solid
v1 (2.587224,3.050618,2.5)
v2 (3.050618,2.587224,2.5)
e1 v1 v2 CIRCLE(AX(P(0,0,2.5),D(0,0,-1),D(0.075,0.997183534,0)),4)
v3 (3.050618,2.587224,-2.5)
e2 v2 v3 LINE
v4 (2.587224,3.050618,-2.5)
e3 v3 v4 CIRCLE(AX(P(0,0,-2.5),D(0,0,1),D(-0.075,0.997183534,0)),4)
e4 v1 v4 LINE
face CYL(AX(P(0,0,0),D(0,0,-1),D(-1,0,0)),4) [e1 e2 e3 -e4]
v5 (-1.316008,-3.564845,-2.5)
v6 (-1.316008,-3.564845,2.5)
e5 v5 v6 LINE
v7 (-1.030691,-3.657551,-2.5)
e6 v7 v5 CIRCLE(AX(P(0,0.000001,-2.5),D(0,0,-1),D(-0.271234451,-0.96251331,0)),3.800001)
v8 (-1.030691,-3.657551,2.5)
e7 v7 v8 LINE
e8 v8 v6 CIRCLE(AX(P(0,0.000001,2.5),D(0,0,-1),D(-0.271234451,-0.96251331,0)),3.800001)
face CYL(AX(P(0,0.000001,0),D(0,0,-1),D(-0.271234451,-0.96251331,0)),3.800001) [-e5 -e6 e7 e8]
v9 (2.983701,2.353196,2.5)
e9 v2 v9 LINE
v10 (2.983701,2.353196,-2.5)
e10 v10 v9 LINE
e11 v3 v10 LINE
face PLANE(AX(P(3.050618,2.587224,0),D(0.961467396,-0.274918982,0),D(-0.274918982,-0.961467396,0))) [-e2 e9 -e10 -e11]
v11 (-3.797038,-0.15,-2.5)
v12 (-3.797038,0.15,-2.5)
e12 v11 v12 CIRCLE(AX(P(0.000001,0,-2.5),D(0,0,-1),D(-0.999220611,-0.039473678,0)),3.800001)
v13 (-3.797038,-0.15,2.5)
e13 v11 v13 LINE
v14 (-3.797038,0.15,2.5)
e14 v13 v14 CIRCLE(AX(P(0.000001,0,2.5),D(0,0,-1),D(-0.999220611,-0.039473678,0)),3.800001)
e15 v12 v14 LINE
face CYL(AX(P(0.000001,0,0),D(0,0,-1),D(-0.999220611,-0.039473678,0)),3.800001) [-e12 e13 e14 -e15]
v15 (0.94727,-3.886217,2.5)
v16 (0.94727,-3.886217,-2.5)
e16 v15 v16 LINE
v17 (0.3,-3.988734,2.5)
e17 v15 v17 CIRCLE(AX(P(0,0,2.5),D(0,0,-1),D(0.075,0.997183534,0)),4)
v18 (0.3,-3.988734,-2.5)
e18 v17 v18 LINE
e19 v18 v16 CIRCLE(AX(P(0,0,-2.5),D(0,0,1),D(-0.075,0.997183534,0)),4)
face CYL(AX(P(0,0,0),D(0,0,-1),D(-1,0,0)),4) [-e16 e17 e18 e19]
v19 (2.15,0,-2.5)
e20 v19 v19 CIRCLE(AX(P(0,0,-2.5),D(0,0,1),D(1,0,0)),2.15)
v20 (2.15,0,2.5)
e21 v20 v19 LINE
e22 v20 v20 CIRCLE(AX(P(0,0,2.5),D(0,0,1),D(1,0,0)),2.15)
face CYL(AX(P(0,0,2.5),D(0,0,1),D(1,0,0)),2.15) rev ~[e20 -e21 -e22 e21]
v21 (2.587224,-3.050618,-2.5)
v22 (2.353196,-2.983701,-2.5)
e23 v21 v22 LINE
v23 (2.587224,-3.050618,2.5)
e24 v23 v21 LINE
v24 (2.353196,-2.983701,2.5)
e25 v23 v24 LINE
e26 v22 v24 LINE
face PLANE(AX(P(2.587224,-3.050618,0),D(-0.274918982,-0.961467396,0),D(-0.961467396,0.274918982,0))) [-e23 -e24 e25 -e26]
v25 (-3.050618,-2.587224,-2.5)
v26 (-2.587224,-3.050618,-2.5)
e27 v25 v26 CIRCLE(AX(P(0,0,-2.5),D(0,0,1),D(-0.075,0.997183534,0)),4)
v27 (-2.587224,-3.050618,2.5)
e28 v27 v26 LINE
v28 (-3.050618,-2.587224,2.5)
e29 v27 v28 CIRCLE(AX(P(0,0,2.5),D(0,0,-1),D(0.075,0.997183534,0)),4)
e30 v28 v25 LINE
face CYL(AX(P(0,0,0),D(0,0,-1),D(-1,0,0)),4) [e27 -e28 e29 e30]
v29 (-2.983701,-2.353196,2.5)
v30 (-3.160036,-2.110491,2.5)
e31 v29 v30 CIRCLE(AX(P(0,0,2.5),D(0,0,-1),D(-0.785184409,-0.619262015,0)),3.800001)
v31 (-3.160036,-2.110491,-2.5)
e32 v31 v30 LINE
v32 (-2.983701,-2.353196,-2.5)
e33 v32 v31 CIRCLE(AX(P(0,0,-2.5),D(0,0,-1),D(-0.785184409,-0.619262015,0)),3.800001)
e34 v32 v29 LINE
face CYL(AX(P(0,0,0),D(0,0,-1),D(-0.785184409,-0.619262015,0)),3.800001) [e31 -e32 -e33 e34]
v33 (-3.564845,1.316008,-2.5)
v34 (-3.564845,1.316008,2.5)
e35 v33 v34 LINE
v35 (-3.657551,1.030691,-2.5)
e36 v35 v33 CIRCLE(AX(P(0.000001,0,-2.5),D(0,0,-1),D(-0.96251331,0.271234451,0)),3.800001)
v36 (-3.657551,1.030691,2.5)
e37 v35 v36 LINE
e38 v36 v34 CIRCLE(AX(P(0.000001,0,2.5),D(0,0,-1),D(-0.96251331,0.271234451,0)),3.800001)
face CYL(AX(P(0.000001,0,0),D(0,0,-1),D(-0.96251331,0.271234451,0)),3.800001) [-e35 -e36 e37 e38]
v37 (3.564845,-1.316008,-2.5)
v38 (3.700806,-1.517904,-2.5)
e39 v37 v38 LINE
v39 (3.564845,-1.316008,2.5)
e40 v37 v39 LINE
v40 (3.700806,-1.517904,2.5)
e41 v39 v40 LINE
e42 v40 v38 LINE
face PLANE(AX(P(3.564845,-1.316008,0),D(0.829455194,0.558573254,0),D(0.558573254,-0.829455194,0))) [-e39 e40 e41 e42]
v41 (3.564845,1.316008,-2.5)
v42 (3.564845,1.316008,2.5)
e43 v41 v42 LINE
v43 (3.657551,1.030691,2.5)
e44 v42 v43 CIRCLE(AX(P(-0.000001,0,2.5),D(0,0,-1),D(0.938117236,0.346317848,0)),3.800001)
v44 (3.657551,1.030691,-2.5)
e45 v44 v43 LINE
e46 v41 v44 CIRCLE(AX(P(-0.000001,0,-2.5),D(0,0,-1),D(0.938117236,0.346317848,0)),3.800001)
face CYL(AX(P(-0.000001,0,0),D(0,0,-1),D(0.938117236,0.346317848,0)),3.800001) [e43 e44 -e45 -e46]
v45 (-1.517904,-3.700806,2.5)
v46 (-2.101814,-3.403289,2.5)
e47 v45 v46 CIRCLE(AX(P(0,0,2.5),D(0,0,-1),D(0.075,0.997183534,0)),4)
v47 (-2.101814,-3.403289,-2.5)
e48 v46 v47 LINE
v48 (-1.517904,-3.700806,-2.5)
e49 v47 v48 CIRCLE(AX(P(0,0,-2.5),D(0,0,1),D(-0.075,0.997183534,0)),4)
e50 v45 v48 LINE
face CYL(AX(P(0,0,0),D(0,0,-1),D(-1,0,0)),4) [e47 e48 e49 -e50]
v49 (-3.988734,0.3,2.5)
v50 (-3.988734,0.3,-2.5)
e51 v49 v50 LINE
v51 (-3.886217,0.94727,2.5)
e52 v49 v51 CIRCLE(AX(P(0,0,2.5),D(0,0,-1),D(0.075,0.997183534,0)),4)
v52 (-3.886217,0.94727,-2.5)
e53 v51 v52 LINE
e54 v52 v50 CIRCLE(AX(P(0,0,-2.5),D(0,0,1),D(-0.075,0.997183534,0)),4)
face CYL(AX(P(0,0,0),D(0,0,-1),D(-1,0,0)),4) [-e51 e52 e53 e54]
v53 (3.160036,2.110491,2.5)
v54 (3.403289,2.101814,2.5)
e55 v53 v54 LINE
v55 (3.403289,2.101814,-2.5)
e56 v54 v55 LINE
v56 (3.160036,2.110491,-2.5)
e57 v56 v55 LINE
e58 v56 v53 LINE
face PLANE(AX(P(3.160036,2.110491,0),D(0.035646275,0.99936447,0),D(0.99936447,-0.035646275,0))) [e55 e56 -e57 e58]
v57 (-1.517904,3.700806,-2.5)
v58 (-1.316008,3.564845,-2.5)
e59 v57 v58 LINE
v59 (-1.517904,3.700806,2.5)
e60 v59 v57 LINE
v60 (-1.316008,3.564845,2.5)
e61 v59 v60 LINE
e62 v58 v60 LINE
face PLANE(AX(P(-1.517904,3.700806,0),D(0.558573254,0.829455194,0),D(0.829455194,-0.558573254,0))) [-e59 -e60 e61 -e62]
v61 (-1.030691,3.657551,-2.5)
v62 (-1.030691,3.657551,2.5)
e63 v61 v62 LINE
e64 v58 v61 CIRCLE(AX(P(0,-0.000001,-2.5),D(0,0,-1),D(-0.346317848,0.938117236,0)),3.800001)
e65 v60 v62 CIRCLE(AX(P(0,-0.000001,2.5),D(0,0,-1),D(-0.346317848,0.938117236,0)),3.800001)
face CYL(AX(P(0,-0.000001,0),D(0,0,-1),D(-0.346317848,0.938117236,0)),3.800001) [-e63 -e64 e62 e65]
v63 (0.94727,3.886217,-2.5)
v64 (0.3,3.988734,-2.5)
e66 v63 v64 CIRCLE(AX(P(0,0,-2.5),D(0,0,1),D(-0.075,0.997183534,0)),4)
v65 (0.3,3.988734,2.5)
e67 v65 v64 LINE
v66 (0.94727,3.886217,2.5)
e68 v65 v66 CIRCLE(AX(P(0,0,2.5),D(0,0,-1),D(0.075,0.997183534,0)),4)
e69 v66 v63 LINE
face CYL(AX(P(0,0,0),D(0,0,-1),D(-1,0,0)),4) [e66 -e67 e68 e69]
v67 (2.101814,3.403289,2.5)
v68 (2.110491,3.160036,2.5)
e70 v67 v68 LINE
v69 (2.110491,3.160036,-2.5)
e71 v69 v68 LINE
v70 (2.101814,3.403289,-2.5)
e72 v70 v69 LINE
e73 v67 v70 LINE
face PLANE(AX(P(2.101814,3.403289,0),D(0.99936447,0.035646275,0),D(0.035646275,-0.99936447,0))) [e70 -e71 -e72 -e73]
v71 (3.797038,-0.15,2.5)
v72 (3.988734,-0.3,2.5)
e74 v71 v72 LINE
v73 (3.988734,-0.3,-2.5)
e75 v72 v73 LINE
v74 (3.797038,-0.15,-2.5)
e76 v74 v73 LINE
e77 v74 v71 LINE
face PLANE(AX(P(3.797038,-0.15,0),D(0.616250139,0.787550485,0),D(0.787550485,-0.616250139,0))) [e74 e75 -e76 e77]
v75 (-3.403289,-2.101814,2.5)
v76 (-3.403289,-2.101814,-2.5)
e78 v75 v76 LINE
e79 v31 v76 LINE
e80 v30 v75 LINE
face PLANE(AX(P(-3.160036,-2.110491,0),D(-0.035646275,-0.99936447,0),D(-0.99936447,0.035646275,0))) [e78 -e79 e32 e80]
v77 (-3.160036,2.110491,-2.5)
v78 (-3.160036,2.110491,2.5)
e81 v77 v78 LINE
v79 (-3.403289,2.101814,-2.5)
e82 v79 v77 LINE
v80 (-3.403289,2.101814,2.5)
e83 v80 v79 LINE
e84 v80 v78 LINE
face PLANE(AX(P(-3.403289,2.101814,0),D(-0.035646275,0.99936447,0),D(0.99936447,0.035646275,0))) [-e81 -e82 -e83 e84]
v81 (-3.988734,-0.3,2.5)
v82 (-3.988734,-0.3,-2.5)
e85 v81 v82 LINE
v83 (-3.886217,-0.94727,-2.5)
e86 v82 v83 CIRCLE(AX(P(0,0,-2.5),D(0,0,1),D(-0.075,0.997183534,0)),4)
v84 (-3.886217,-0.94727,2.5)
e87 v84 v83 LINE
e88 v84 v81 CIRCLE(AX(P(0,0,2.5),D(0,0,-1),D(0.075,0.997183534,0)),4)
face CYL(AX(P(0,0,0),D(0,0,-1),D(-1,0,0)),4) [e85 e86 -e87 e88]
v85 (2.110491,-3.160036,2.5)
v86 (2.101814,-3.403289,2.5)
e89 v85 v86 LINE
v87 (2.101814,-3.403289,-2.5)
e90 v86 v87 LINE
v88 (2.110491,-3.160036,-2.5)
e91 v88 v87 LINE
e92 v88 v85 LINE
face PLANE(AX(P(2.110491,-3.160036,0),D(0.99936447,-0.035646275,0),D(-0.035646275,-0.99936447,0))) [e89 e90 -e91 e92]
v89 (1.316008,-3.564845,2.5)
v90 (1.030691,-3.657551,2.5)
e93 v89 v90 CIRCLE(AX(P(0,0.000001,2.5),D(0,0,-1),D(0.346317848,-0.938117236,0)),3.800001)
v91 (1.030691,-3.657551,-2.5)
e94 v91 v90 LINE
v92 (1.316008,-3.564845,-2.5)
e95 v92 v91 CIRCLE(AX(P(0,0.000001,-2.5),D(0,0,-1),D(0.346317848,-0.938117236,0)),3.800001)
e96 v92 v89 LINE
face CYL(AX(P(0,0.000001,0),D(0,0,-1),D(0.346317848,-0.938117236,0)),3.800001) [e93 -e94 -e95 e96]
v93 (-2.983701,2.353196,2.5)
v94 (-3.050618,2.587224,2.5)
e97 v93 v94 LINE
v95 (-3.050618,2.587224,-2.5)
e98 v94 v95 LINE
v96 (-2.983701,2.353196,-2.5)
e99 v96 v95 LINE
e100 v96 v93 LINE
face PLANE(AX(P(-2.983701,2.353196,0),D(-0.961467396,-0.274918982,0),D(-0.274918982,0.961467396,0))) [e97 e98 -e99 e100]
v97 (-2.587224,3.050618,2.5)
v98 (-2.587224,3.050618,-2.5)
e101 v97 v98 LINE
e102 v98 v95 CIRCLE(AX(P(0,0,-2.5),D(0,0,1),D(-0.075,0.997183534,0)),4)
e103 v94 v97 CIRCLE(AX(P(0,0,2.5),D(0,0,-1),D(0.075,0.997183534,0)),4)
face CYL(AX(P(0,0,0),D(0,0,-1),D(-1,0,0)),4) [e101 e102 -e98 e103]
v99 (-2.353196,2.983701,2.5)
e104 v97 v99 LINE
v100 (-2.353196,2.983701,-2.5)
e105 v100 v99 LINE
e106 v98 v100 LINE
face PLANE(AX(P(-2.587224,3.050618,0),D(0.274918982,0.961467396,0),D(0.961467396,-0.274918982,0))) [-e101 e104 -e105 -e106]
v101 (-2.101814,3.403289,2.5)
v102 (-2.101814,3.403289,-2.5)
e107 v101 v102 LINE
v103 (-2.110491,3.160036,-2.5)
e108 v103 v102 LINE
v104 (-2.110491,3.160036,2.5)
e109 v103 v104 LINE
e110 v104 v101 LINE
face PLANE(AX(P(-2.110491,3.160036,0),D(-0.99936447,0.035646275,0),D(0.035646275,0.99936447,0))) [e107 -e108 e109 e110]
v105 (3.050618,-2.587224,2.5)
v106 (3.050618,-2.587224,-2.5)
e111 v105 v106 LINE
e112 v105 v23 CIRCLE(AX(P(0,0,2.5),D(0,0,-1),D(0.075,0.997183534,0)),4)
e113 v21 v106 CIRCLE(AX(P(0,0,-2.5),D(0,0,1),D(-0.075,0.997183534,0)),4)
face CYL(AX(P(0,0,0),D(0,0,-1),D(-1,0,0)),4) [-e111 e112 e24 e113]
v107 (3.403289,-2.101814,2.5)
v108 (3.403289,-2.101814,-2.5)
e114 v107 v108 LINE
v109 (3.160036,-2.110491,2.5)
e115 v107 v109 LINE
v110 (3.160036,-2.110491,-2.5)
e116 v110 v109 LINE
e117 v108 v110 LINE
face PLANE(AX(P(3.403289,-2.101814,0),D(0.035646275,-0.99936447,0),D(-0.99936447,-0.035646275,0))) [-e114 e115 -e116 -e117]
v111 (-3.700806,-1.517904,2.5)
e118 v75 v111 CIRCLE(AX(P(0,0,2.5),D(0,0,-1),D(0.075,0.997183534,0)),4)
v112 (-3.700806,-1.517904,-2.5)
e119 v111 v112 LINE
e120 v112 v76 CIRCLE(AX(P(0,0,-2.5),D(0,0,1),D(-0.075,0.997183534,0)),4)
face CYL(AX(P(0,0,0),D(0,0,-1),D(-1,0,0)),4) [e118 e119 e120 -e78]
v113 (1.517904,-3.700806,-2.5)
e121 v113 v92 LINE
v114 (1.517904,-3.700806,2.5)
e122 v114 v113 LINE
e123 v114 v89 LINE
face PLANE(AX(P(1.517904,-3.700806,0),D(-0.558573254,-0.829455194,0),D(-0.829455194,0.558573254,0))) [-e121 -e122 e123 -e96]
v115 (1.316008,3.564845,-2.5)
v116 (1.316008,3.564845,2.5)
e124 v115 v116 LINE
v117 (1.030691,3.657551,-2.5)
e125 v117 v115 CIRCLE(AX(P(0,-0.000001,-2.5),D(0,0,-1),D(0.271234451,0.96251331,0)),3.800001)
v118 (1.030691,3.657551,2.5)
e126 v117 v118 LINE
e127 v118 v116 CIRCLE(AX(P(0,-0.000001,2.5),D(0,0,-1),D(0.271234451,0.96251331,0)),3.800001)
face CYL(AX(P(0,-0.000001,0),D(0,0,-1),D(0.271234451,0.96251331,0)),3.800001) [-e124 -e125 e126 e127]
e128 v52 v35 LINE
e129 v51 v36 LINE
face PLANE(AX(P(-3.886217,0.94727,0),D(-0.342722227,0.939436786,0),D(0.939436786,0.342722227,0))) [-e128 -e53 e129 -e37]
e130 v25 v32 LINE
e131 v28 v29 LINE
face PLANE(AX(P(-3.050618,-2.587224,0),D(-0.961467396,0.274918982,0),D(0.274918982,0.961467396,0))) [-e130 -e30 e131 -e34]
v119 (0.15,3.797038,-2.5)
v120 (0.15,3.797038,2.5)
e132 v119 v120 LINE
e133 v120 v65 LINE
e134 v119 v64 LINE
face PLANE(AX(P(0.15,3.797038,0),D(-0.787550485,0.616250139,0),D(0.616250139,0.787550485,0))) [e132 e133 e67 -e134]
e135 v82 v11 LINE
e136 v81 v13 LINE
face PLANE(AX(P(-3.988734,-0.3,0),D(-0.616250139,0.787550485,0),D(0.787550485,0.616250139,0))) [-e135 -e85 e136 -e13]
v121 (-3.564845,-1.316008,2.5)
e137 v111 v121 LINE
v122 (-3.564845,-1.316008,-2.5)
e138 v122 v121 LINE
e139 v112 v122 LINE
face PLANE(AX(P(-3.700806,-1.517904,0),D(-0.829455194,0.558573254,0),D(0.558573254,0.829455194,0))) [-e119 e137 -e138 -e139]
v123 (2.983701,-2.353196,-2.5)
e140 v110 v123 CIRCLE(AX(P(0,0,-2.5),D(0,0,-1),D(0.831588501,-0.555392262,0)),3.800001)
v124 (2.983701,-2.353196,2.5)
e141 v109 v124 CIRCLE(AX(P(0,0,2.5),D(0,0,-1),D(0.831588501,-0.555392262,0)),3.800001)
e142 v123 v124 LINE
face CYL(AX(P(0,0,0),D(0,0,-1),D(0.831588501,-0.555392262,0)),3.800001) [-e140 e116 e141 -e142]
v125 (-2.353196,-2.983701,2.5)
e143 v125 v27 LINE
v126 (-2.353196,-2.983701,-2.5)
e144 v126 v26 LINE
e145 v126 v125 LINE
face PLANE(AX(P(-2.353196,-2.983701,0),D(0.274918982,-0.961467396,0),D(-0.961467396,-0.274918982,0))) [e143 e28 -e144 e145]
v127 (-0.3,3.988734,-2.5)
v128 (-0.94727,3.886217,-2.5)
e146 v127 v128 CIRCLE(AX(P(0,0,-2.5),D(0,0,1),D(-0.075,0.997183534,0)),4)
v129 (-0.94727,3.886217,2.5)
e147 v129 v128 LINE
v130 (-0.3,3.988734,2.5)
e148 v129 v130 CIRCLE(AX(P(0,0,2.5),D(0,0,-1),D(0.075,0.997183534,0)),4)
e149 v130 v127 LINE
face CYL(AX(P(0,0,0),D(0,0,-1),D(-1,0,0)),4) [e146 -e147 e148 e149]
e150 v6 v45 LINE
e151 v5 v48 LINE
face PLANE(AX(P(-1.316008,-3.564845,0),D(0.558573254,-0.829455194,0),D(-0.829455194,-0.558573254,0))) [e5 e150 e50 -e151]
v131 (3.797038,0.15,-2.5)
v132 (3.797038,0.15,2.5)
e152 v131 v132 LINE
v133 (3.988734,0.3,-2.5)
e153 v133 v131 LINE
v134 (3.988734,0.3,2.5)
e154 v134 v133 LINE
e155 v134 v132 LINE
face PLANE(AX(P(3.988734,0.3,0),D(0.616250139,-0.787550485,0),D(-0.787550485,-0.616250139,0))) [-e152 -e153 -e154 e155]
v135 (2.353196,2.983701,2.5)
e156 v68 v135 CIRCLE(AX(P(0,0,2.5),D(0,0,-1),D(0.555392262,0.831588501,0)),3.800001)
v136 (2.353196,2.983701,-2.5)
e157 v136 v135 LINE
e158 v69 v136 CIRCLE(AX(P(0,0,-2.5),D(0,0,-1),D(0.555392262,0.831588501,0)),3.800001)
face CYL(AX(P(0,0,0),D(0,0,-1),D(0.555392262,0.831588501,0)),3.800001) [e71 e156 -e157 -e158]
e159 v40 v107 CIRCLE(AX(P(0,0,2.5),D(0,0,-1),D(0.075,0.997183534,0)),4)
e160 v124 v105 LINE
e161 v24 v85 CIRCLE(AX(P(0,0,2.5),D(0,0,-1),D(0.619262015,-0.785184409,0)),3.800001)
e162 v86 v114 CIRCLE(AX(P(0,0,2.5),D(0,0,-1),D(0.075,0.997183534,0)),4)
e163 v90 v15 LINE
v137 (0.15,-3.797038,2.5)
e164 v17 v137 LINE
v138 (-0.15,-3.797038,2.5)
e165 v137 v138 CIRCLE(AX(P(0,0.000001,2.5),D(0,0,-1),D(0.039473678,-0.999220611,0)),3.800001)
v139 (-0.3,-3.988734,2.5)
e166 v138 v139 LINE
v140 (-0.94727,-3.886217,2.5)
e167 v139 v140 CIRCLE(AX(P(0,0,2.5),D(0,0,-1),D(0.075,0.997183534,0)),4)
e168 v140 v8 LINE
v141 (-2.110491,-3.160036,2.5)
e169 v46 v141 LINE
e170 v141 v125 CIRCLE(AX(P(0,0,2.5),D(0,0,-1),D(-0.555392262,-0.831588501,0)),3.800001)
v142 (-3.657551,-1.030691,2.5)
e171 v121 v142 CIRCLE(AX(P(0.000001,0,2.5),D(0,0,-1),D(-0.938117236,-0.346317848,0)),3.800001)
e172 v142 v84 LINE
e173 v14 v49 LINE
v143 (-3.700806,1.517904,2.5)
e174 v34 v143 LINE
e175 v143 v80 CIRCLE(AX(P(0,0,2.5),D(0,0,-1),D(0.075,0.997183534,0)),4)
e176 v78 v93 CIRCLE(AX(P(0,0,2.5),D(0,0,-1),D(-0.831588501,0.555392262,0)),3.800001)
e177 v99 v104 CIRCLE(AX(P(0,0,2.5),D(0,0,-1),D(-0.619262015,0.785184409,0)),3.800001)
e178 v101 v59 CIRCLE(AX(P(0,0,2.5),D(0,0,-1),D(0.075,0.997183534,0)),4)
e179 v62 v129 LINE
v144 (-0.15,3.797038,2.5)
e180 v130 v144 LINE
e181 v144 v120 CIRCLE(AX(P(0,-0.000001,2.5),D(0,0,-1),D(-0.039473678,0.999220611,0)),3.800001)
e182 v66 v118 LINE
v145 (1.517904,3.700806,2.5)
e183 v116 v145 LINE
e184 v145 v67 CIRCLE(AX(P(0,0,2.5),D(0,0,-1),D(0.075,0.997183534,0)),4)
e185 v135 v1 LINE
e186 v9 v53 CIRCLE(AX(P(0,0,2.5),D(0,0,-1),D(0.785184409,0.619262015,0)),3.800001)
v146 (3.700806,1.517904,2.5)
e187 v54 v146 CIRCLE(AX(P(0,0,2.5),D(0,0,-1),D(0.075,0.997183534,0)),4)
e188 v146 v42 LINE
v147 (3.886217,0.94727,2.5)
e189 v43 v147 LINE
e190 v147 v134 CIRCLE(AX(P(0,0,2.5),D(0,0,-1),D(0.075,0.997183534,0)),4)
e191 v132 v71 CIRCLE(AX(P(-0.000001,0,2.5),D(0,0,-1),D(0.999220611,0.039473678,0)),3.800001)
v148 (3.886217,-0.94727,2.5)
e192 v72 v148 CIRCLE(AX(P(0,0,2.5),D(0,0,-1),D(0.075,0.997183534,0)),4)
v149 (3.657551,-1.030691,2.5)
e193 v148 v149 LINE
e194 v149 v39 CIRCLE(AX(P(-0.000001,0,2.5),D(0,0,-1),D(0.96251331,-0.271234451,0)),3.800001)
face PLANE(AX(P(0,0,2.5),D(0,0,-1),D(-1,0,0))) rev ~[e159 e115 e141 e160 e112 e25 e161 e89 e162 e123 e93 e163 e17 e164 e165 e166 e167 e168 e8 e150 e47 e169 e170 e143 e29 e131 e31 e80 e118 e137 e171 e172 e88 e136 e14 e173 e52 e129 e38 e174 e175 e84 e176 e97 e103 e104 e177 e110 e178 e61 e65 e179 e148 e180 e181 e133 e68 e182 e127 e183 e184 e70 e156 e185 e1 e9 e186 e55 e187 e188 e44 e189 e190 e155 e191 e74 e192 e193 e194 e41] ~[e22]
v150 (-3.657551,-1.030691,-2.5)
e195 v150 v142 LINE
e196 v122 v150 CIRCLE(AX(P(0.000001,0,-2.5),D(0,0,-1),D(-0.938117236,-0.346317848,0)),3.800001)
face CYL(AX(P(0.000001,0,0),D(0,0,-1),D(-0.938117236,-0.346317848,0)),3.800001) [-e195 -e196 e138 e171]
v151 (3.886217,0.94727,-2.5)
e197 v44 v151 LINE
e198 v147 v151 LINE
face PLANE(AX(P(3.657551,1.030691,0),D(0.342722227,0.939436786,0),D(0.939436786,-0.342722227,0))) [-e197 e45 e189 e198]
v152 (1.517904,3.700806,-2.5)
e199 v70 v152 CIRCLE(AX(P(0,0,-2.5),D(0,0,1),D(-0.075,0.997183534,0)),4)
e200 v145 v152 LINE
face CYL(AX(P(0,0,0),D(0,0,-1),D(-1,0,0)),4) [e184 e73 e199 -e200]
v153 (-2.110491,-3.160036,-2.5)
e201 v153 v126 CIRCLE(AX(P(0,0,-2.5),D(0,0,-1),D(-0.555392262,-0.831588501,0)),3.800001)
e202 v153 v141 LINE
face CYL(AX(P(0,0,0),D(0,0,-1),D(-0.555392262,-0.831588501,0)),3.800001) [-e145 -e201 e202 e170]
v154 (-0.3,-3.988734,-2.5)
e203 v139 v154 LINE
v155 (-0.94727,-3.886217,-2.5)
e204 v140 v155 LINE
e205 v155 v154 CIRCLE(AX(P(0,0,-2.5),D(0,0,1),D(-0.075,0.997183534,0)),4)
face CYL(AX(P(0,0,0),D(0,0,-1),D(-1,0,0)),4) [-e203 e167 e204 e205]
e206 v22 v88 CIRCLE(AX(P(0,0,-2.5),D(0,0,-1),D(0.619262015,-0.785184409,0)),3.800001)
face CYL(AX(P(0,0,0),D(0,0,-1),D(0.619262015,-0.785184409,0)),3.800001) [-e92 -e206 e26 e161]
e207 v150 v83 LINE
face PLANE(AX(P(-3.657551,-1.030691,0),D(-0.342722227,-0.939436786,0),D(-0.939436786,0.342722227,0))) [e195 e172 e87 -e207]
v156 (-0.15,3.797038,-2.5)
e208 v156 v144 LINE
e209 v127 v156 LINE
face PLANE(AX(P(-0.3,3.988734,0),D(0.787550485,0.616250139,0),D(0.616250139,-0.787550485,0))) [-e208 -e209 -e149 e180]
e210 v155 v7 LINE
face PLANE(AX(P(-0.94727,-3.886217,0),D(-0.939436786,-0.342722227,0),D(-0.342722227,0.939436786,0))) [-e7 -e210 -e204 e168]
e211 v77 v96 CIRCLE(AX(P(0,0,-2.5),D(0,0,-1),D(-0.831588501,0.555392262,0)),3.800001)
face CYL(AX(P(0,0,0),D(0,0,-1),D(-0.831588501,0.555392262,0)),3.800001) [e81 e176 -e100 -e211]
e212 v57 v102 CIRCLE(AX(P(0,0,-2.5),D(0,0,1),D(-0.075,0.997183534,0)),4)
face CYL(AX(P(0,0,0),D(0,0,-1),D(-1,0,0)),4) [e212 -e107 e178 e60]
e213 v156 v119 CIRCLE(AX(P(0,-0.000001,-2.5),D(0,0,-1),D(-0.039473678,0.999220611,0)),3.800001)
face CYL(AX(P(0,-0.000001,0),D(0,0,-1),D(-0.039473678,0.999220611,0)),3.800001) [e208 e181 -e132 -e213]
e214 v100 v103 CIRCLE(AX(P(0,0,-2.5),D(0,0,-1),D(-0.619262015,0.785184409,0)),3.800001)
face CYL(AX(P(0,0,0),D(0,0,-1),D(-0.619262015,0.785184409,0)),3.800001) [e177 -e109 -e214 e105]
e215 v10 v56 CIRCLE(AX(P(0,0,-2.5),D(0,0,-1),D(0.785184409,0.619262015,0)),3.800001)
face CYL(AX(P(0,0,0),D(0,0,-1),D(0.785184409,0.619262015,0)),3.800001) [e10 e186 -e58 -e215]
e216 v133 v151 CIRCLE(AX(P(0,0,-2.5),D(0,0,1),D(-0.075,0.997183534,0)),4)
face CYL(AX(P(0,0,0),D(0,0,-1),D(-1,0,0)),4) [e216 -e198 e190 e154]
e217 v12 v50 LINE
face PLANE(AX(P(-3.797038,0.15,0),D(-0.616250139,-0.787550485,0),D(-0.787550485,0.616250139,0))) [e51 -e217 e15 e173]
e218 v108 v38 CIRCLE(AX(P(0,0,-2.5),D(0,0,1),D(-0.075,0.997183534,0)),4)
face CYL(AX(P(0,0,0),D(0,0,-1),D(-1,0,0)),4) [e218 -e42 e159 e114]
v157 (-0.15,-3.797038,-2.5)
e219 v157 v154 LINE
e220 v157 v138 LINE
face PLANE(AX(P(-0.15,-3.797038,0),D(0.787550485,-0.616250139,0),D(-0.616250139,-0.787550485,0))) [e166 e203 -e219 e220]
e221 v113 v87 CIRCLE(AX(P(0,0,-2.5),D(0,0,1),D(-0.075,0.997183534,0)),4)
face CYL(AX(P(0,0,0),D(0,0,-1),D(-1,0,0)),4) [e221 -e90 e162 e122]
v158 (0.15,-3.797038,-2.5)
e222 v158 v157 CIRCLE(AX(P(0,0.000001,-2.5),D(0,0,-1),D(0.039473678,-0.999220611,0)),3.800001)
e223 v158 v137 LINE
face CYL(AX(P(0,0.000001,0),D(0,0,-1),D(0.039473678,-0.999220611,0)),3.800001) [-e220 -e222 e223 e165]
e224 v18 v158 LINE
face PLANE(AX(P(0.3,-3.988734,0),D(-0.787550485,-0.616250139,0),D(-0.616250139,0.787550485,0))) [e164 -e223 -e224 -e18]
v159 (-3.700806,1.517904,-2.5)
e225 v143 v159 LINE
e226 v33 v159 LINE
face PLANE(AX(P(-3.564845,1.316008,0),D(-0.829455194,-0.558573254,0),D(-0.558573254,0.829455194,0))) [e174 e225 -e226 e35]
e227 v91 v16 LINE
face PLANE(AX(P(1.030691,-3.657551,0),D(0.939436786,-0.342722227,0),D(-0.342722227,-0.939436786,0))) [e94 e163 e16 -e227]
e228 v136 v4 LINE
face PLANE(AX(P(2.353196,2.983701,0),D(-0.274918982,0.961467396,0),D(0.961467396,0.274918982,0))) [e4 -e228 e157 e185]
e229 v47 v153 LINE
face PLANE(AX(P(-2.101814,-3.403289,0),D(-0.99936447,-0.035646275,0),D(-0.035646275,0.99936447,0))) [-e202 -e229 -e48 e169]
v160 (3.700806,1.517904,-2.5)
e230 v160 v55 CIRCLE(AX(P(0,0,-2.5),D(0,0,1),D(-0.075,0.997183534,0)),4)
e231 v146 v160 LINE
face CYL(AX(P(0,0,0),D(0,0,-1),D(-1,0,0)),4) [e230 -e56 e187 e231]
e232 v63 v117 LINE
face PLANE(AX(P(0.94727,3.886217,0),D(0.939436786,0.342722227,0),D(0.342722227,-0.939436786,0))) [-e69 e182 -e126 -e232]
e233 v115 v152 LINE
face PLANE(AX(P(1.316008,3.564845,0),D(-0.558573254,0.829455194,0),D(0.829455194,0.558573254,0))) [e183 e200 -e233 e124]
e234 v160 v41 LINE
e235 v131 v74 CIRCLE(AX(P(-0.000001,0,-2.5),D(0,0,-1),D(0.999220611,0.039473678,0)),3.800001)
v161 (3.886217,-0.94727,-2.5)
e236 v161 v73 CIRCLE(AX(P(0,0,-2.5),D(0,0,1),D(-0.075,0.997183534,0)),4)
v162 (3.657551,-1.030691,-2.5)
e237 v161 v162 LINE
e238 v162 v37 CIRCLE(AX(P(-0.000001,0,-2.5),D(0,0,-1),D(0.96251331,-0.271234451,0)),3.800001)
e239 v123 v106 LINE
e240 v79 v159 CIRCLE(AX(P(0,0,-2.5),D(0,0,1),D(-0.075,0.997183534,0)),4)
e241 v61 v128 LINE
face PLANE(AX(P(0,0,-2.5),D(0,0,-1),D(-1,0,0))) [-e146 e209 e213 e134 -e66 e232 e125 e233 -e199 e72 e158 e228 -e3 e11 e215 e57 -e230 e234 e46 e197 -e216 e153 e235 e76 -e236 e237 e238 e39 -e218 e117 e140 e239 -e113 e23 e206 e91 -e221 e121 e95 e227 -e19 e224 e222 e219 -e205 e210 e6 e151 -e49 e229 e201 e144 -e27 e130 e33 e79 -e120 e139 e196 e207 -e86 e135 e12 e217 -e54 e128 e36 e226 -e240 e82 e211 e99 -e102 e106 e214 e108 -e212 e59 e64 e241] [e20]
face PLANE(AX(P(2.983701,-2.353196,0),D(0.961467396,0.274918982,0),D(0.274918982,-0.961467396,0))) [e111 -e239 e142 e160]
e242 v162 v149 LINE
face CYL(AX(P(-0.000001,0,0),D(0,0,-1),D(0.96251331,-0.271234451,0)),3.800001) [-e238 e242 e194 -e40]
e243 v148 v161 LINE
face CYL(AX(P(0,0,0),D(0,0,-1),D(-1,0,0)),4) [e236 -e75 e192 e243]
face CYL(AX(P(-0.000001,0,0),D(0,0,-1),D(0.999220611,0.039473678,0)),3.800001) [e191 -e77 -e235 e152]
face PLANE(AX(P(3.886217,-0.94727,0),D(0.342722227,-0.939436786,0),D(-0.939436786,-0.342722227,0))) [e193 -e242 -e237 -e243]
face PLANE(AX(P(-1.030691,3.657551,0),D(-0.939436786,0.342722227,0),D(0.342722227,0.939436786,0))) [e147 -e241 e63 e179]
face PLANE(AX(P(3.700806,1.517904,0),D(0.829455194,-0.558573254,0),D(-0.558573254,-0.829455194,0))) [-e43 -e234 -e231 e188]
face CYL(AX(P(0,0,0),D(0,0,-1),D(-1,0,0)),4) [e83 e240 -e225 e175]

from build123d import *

# Parameters (mm, degrees)
BODYS_R                = 4
BODY_DEPTH             = 2.5
ENGAGEMENTCUT_DEPTH    = 7.184658438
ECCP_COUNT             = 20
MAJORDIAMETERCUTS_R    = 2.15
MAJORDIAMETERCUT_DEPTH = 8.537904218


with BuildPart() as part:
    # BodyS → Body (new, symmetric)
    with BuildSketch(Plane(origin=(0, 0, 0), x_dir=(-1, 0, 0), z_dir=(0, 0, -1))):
        Circle(BODYS_R)
    extrude(amount=BODY_DEPTH, both=True)

    # EngagementCutS → EngagementCut (cut, symmetric)
    with BuildSketch(Plane(origin=(0, 0, 0), x_dir=(-1, 0, 0), z_dir=(0, 0, -1))):
        with BuildLine():
            Line((0.3, 3.988734135), (0.15, 3.79703832))
            ThreePointArc((0.15, 3.79703832), (0, 3.8), (-0.15, 3.79703832))
            Line((-0.15, 3.79703832), (-0.3, 3.988734135))
            ThreePointArc((-0.3, 3.988734135), (0, 4), (0.3, 3.988734135))
        make_face()
    engagementcut = extrude(amount=ENGAGEMENTCUT_DEPTH, both=True, mode=Mode.SUBTRACT)

    # ECCP: EngagementCut ×20 about axis
    eccp_axis = Axis((0, 0, 51.25), (0, 0, -1))
    for i in range(1, ECCP_COUNT):
        add(engagementcut.rotate(eccp_axis, i * 360 / ECCP_COUNT), mode=Mode.SUBTRACT)

    # MajorDiameterCutS → MajorDiameterCut (cut, through all)
    with BuildSketch(Plane.XY.offset(2.5)):
        Circle(MAJORDIAMETERCUTS_R)
    extrude(amount=-MAJORDIAMETERCUT_DEPTH, mode=Mode.SUBTRACT)


solid = part.part
